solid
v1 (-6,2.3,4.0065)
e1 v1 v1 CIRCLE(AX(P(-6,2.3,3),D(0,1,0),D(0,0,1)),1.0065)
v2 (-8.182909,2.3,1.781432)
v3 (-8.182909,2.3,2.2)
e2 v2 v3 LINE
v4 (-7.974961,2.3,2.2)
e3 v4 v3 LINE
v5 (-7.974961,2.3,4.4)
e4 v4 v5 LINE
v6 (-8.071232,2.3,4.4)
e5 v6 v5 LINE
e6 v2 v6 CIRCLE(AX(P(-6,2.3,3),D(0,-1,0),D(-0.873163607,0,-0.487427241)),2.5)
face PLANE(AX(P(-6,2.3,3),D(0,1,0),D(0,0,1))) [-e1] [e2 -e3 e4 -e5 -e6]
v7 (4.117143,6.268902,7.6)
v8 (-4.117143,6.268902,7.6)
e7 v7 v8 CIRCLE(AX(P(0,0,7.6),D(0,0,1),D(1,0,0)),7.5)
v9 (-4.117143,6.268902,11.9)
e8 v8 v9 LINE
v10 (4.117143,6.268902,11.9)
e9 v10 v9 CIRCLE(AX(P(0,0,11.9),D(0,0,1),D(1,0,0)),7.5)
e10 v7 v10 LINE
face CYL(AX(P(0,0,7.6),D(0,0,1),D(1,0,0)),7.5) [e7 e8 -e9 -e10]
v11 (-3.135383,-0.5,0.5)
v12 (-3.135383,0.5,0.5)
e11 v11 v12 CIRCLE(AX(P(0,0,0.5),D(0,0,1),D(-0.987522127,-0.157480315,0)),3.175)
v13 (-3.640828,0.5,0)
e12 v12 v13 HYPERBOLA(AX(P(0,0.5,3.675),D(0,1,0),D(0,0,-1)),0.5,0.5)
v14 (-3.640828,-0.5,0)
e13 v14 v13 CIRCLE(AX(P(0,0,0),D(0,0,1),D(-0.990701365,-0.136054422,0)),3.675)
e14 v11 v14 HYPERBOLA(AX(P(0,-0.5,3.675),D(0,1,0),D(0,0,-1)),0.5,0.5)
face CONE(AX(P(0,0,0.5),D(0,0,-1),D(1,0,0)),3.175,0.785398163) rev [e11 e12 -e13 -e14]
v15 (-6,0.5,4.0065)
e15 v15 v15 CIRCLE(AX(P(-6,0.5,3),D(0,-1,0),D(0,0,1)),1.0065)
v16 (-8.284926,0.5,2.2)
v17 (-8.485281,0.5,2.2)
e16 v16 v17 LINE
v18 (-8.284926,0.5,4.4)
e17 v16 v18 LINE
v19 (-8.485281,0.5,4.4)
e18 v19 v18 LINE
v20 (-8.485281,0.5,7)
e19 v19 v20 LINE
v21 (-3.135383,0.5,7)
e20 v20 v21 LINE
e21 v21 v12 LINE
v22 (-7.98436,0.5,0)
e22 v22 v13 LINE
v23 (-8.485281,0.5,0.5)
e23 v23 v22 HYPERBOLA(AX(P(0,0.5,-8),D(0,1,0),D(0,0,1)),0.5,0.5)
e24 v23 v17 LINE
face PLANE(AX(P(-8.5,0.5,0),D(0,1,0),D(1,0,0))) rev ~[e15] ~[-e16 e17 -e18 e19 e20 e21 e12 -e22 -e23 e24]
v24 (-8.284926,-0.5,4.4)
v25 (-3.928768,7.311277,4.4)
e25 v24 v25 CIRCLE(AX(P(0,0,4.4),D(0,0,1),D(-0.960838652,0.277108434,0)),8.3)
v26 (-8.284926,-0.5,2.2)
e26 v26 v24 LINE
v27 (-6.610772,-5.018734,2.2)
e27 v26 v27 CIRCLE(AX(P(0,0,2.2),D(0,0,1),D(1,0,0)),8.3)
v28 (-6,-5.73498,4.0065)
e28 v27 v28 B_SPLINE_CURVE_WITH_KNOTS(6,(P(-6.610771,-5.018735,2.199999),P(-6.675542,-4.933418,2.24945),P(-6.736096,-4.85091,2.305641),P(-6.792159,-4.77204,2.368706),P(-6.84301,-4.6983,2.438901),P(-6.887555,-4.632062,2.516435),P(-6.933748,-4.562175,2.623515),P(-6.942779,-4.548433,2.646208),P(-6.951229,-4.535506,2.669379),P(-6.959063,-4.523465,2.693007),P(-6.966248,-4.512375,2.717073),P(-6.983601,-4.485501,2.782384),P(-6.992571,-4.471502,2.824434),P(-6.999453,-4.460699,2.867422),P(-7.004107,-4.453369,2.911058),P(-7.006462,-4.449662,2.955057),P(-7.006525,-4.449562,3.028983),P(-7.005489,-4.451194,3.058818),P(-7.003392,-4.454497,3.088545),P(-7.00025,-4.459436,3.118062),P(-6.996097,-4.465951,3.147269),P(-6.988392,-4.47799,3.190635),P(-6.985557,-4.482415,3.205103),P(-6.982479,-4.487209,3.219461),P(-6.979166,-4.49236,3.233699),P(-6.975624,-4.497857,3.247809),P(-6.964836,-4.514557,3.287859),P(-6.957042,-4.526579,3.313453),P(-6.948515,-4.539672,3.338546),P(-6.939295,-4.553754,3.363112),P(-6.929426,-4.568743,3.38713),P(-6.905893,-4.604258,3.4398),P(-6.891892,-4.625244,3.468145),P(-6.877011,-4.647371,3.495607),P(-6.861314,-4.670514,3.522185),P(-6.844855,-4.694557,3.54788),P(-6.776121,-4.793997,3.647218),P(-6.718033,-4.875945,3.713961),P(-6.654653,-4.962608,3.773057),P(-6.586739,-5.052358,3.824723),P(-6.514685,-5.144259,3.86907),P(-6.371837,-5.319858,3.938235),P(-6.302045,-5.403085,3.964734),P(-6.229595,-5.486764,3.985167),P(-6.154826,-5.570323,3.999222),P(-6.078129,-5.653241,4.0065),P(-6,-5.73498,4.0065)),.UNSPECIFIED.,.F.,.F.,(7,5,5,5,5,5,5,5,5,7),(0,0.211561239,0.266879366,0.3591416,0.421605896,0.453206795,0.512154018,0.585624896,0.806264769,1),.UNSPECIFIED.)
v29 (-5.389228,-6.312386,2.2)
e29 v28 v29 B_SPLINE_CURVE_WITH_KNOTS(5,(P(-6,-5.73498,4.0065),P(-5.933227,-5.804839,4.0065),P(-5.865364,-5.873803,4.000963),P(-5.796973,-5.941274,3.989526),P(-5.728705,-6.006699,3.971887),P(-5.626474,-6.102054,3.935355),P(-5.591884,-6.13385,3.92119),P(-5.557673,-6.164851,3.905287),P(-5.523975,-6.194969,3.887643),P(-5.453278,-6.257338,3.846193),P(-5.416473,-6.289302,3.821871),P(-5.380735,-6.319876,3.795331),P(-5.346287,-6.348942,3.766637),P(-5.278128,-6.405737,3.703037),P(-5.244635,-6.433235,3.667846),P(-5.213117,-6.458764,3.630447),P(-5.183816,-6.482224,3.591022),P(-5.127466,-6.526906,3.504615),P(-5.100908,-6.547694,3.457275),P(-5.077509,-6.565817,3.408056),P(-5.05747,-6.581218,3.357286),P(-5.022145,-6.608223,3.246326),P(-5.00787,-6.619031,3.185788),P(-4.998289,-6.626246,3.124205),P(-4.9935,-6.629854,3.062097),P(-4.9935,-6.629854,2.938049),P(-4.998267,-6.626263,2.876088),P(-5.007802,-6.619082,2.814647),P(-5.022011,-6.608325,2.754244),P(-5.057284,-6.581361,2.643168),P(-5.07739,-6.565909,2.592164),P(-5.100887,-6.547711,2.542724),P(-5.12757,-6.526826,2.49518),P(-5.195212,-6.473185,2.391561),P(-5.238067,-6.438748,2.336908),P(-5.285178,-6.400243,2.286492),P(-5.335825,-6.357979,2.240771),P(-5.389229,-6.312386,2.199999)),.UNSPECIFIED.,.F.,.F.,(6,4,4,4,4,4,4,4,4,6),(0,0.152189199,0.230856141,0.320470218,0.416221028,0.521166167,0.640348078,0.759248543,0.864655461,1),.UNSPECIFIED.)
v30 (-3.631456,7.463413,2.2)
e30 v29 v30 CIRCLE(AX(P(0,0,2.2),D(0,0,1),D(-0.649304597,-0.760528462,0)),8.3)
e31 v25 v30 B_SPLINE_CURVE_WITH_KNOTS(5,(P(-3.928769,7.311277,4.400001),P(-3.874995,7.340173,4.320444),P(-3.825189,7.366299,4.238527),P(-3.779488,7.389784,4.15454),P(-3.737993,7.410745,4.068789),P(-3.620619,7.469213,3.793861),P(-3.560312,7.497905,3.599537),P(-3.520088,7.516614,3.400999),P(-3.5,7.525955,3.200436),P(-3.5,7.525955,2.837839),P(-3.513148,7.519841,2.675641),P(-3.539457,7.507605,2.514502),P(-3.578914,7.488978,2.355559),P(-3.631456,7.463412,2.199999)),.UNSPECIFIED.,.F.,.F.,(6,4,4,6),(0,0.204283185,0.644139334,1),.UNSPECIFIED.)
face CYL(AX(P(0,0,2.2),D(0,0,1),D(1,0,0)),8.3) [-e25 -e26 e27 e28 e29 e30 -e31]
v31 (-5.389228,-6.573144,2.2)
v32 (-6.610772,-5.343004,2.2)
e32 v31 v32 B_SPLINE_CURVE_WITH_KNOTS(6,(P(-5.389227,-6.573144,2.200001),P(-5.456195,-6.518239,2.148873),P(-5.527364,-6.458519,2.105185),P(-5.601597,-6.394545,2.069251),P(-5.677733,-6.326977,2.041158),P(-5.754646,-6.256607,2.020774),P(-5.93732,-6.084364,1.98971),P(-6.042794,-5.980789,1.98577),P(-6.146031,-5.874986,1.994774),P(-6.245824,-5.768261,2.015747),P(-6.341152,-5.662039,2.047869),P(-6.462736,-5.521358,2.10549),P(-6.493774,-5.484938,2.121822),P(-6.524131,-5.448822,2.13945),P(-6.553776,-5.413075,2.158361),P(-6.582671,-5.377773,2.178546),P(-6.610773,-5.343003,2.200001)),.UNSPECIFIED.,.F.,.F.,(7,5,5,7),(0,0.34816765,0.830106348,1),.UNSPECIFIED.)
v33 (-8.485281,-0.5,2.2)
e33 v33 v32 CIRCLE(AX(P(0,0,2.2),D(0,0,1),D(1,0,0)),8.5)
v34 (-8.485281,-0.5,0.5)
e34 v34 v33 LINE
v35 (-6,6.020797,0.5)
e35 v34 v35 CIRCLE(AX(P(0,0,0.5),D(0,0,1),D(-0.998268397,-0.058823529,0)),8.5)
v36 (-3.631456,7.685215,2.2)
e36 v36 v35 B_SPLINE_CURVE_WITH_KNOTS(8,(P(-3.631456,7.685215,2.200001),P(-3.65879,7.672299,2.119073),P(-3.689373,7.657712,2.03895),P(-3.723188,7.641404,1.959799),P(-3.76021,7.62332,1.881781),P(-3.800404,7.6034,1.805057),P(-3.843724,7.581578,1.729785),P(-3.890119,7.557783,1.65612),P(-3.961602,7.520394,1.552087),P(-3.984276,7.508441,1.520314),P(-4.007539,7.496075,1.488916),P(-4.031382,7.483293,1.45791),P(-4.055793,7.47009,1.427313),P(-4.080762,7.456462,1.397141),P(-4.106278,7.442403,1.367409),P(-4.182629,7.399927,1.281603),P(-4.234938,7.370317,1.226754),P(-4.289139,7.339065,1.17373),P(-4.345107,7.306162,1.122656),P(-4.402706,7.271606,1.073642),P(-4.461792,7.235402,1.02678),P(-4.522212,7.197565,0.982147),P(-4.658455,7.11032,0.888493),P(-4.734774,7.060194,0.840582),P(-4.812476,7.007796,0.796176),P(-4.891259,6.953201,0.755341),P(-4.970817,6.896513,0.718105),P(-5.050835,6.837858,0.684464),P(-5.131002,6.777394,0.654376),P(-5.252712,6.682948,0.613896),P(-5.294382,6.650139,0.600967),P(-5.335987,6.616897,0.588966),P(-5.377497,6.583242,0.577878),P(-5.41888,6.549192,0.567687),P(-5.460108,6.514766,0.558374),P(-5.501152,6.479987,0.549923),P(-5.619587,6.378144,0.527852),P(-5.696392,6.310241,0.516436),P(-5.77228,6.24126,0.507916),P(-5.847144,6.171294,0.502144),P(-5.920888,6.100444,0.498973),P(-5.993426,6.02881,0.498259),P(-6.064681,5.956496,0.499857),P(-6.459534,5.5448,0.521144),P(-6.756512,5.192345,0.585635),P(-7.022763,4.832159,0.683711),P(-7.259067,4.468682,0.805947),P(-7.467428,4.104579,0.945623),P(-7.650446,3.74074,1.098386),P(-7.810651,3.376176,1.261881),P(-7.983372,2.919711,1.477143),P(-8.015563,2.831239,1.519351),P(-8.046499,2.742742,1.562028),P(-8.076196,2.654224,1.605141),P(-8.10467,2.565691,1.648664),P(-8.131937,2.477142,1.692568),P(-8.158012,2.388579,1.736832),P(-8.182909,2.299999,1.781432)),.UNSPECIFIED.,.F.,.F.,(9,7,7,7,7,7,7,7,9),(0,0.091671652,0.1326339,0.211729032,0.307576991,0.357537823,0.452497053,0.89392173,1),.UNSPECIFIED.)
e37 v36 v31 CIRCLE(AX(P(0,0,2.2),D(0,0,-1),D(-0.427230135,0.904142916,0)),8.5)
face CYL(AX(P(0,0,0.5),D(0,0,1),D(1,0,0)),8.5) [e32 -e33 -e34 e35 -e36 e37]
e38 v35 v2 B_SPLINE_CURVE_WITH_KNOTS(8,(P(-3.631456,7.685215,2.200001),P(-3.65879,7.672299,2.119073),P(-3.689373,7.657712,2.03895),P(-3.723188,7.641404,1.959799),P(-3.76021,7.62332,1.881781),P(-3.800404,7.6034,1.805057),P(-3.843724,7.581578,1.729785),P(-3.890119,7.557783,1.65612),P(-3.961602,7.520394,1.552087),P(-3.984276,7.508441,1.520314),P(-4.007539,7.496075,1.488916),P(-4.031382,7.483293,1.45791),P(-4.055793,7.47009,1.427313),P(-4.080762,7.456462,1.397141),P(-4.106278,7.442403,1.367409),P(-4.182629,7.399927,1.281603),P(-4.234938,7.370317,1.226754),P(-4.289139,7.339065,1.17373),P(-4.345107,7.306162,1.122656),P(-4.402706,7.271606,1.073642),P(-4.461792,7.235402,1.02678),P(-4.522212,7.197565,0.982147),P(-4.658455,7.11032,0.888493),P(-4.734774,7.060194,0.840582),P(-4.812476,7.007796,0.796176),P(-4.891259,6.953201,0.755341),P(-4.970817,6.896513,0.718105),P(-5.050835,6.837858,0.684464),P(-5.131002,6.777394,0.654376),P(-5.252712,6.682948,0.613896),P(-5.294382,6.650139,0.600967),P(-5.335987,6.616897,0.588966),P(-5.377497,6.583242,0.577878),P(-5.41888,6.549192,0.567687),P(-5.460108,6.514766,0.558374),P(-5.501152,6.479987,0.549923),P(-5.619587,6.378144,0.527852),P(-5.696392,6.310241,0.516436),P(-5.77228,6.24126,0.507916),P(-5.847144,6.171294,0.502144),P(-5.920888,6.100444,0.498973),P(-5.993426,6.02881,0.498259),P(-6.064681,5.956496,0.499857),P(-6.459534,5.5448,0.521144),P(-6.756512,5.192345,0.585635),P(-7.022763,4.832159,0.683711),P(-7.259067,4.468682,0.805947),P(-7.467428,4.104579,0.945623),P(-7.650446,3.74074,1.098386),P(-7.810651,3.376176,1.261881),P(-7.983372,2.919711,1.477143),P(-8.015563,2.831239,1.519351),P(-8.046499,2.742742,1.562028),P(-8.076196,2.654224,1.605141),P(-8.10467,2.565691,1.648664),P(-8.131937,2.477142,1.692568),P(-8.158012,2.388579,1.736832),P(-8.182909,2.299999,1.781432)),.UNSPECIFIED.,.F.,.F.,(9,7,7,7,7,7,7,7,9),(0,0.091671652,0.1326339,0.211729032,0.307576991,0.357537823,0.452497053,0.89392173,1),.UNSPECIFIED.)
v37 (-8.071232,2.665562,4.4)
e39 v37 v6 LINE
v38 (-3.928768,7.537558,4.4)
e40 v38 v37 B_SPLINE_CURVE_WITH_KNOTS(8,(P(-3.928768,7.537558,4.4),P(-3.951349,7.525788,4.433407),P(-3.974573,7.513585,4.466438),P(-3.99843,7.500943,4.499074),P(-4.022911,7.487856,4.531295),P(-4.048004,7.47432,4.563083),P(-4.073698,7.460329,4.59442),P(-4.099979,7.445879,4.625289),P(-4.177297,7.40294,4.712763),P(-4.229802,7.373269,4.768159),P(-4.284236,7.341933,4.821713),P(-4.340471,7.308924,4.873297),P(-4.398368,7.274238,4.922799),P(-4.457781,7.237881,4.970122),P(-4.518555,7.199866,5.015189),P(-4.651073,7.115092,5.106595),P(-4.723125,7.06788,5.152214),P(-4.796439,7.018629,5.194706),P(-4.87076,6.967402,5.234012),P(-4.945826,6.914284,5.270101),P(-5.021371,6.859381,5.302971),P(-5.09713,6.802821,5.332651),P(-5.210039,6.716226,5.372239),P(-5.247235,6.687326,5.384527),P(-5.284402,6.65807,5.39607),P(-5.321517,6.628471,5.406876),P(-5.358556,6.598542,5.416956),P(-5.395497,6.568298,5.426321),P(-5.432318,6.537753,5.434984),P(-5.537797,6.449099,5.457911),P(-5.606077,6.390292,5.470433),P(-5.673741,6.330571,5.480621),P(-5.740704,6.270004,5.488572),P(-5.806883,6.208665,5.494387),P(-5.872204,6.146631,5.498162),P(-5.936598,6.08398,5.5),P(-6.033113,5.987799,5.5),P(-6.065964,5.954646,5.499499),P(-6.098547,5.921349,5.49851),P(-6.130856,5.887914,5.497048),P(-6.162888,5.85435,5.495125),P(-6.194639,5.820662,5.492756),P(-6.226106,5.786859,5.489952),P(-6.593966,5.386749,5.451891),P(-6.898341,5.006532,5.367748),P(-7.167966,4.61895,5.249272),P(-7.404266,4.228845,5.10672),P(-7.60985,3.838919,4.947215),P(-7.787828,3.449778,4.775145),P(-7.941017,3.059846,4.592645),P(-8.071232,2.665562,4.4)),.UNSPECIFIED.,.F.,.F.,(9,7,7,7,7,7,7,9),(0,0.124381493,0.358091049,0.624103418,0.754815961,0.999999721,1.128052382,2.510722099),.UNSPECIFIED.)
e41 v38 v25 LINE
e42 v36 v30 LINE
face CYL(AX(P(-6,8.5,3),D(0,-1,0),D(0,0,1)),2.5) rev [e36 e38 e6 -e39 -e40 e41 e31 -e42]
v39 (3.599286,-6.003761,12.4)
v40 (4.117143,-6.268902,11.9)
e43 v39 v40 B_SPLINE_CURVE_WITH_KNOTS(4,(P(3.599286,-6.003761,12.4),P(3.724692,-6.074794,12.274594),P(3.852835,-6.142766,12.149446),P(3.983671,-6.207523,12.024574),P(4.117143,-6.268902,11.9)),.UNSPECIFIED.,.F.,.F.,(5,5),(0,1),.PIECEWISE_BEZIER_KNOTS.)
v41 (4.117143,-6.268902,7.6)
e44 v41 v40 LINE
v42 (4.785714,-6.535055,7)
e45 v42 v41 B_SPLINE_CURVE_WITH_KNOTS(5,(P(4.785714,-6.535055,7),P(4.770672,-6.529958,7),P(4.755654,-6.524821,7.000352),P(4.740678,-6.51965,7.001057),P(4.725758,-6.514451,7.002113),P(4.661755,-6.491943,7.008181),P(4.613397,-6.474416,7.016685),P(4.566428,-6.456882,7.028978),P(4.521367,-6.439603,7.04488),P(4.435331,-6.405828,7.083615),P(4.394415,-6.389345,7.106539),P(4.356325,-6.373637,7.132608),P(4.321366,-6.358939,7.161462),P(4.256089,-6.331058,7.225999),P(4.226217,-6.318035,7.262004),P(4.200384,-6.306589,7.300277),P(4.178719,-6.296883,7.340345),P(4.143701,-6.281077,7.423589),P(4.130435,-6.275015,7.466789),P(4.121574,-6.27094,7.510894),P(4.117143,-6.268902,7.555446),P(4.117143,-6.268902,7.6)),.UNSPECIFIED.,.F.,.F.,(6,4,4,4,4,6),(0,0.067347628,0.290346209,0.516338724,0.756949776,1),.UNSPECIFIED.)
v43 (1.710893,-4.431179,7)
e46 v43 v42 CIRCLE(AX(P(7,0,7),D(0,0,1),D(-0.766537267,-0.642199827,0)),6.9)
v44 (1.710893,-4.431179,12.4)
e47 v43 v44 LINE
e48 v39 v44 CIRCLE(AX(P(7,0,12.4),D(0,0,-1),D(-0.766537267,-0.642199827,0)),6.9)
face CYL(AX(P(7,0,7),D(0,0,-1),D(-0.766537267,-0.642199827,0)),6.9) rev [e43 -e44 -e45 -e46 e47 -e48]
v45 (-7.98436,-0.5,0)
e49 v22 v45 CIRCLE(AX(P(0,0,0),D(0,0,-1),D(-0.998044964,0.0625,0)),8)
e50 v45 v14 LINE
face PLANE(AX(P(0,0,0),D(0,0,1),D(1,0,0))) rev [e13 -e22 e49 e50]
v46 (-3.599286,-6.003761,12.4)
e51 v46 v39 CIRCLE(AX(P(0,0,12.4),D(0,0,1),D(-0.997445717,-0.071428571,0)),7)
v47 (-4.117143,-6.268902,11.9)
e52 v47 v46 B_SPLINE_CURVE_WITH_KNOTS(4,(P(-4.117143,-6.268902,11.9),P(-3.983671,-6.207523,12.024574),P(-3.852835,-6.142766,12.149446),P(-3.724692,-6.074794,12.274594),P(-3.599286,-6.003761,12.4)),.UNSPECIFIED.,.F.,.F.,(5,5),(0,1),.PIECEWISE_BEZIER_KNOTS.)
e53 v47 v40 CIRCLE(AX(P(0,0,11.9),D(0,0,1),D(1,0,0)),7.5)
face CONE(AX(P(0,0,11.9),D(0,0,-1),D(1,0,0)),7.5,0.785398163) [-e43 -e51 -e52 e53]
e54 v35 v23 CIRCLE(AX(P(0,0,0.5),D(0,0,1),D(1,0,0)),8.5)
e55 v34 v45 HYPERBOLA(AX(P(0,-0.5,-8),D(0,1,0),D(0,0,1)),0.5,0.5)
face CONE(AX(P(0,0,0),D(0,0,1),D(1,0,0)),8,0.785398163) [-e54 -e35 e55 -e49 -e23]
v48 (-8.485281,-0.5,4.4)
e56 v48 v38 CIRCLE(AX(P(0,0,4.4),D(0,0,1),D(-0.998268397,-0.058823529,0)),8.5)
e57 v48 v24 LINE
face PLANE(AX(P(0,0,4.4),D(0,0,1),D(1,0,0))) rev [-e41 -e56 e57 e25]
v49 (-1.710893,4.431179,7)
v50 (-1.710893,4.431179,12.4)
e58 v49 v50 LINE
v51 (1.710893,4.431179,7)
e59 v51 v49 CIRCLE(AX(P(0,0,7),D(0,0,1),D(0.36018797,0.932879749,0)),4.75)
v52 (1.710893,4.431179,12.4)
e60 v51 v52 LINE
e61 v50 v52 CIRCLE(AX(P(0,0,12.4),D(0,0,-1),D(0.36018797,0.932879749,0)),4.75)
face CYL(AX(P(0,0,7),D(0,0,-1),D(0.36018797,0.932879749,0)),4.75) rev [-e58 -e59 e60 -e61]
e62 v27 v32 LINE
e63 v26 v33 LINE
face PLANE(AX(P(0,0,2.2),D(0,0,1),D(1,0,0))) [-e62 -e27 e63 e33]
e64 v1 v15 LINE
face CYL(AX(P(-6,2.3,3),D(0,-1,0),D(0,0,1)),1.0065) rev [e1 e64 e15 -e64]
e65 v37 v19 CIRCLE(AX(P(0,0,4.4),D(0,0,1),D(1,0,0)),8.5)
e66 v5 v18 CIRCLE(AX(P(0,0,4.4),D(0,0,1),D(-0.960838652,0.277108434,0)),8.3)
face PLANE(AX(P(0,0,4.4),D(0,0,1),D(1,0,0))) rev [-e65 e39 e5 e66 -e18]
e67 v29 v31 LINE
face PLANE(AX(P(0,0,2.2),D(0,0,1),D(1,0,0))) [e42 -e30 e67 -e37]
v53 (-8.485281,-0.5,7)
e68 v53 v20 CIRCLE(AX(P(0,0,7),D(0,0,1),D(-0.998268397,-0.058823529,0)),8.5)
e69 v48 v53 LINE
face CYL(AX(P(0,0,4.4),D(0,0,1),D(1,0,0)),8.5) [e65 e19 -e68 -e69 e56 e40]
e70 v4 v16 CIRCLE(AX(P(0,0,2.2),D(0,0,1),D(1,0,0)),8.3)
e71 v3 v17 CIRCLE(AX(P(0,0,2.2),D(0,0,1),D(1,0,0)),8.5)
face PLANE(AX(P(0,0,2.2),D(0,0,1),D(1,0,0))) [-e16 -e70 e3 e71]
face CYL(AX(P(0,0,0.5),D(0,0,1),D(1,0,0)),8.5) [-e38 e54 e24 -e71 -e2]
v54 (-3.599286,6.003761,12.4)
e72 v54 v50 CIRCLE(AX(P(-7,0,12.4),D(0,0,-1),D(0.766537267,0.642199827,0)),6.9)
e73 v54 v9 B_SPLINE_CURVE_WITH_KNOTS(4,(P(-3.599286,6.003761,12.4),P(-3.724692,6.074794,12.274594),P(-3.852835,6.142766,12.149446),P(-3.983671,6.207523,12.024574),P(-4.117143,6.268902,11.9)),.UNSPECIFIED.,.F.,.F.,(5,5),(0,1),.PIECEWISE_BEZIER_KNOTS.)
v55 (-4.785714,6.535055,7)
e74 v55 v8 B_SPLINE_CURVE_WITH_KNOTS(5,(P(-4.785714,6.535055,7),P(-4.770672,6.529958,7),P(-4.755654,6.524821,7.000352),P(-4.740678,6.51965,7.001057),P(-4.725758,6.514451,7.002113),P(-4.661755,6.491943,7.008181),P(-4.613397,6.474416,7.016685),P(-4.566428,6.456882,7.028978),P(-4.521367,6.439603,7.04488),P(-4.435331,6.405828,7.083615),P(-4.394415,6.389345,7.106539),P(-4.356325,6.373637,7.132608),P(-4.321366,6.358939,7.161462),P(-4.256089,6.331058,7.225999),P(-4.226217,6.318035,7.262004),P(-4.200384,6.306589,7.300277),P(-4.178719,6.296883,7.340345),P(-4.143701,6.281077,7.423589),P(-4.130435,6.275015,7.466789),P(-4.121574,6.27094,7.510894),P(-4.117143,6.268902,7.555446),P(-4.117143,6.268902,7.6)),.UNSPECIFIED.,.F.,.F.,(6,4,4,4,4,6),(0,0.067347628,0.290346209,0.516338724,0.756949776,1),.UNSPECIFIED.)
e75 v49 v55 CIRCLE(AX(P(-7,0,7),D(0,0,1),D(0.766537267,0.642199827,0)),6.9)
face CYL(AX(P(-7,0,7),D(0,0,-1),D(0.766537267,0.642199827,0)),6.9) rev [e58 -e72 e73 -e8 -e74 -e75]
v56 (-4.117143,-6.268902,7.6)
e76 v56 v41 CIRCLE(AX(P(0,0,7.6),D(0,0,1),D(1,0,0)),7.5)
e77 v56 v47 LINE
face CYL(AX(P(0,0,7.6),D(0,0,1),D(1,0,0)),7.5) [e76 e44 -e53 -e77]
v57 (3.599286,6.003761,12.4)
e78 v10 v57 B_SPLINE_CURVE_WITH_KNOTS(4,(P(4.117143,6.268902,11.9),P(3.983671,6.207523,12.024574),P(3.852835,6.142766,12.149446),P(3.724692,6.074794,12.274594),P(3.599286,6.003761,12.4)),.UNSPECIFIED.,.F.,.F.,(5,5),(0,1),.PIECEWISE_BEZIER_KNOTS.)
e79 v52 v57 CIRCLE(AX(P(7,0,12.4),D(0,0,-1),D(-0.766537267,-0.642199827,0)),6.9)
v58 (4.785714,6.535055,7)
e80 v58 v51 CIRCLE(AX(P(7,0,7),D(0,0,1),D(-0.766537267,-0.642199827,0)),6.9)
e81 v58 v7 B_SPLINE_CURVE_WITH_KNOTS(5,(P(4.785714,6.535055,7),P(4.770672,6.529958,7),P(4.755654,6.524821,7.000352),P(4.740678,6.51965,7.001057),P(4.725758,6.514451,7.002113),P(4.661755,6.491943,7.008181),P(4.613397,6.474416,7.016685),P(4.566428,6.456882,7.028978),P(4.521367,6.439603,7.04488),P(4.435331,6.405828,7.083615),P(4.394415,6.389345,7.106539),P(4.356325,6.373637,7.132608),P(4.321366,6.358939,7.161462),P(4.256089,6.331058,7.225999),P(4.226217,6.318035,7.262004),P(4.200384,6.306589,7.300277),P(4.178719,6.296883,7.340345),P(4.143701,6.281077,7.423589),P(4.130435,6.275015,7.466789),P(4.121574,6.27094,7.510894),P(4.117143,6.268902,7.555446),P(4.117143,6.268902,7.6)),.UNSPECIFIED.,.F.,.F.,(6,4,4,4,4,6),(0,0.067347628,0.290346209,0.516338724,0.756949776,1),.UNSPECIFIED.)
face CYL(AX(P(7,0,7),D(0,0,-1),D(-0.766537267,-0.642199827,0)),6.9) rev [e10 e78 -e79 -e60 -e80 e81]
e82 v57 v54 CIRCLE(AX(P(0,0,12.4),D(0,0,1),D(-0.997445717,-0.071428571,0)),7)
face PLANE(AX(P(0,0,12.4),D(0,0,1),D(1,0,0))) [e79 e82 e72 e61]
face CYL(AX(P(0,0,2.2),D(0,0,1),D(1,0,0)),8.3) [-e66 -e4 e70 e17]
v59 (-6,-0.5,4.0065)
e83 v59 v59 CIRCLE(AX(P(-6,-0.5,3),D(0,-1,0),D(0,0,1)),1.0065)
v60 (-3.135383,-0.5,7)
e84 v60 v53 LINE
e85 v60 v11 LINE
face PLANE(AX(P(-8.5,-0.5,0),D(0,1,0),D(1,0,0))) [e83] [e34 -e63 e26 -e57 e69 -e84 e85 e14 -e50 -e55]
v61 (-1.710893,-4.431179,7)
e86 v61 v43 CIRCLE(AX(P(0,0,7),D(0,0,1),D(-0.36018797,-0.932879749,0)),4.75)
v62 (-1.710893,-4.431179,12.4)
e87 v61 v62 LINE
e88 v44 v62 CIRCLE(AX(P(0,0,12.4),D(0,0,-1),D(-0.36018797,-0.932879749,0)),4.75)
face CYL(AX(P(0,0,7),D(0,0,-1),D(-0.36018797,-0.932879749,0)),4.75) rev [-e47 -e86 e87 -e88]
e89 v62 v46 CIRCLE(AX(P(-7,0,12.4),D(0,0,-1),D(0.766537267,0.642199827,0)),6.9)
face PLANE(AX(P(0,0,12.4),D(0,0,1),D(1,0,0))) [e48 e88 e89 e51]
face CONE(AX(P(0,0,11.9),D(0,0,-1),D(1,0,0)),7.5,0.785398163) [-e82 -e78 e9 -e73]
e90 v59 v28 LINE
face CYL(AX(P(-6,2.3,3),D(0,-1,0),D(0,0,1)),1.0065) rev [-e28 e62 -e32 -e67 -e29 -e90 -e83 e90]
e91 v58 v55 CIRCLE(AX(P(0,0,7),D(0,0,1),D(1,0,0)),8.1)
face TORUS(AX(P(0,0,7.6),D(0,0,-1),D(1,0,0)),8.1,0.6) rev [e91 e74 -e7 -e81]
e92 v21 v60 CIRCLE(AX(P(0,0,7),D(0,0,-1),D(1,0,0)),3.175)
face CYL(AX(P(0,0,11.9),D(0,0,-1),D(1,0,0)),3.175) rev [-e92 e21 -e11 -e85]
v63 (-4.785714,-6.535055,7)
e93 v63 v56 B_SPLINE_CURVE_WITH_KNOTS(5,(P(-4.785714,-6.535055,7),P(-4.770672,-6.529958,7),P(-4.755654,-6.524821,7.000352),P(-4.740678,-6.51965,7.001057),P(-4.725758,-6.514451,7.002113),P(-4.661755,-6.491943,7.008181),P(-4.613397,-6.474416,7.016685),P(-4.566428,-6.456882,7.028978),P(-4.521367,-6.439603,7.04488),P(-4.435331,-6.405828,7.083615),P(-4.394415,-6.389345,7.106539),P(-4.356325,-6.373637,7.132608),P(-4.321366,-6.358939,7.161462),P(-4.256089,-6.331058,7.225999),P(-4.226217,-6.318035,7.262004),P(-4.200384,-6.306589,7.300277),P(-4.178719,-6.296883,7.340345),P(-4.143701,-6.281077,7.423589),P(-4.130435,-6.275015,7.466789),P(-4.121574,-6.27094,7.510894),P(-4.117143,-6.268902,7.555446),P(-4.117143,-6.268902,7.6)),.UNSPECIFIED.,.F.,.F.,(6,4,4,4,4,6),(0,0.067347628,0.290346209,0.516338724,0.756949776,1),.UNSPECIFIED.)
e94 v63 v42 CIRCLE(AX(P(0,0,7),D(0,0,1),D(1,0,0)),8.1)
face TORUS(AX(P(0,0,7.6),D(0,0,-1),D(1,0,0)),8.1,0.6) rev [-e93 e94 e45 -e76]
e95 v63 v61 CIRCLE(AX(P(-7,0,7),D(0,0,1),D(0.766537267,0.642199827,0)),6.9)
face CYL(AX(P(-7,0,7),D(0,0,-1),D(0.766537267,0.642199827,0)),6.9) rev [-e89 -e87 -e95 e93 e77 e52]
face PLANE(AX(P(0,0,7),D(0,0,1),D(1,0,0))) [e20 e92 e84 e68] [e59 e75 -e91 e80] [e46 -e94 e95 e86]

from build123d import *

# Parameters (mm, degrees)
SKETCH3_W          = 8.5
SKETCH3_H          = 1
CUT_EXTRUDE1_DEPTH = 12.4
CUT_EXTRUDE2_DEPTH = 12.4


with BuildPart() as part:
    # Sketch1 → Revolve1 (revolve)
    with BuildSketch(Plane(origin=(0, 0, 0), x_dir=(0, 0, -1), z_dir=(1, 0, 0))):
        with BuildLine():
            Line((-12.4, 7), (-12.4, 3.675))
            Line((-12.4, 3.675), (-11.9, 3.175))
            Line((-11.9, 3.175), (-0.5, 3.175))
            Line((-0.5, 3.175), (0, 3.675))
            Line((0, 3.675), (0, 8))
            Line((0, 8), (-0.5, 8.5))
            Line((-0.5, 8.5), (-2.2, 8.5))
            Line((-2.2, 8.5), (-2.2, 8.3))
            Line((-2.2, 8.3), (-4.4, 8.3))
            Line((-4.4, 8.3), (-4.4, 8.5))
            Line((-4.4, 8.5), (-7, 8.5))
            Line((-7, 8.5), (-7, 8.1))
            ThreePointArc((-7, 8.1), (-7.175735931, 7.675735931), (-7.6, 7.5))
            Line((-7.6, 7.5), (-11.9, 7.5))
            Line((-11.9, 7.5), (-12.4, 7))
        make_face()
    revolve(axis=Axis((0, 0, 0), (0, 0, 1)))

    # Sketch2 → Cut-Revolve1 (revolve, cut)
    with BuildSketch(Plane.XY.offset(3)):
        Polygon((-6, 8.5), (-3.5, 8.5), (-3.5, 2.3), (-4.9935, 2.3), (-4.9935, -8.5), (-6, -8.5), align=None)
    revolve(axis=Axis((-6, -8.5, 3), (0, 1, 0)), mode=Mode.SUBTRACT)

    # Sketch3 → Cut-Extrude1 (cut)
    with BuildSketch(Plane.XY):
        with Locations((-4.25, 0)):
            Rectangle(SKETCH3_W, SKETCH3_H)
    extrude(amount=CUT_EXTRUDE1_DEPTH, mode=Mode.SUBTRACT)

    # Sketch4 → Cut-Extrude2 (cut)
    with BuildSketch(Plane.XY.offset(7)):
        with BuildLine():
            ThreePointArc((-1.710892857, 4.431178808), (-13.9, 0), (-1.710892857, -4.431178808))
            ThreePointArc((-1.710892857, -4.431178808), (0, -4.75), (1.710892857, -4.431178808))
            ThreePointArc((1.710892857, -4.431178808), (13.9, 0), (1.710892857, 4.431178808))
            ThreePointArc((1.710892857, 4.431178808), (0, 4.75), (-1.710892857, 4.431178808))
        make_face()
    extrude(amount=CUT_EXTRUDE2_DEPTH, mode=Mode.SUBTRACT)


solid = part.part
